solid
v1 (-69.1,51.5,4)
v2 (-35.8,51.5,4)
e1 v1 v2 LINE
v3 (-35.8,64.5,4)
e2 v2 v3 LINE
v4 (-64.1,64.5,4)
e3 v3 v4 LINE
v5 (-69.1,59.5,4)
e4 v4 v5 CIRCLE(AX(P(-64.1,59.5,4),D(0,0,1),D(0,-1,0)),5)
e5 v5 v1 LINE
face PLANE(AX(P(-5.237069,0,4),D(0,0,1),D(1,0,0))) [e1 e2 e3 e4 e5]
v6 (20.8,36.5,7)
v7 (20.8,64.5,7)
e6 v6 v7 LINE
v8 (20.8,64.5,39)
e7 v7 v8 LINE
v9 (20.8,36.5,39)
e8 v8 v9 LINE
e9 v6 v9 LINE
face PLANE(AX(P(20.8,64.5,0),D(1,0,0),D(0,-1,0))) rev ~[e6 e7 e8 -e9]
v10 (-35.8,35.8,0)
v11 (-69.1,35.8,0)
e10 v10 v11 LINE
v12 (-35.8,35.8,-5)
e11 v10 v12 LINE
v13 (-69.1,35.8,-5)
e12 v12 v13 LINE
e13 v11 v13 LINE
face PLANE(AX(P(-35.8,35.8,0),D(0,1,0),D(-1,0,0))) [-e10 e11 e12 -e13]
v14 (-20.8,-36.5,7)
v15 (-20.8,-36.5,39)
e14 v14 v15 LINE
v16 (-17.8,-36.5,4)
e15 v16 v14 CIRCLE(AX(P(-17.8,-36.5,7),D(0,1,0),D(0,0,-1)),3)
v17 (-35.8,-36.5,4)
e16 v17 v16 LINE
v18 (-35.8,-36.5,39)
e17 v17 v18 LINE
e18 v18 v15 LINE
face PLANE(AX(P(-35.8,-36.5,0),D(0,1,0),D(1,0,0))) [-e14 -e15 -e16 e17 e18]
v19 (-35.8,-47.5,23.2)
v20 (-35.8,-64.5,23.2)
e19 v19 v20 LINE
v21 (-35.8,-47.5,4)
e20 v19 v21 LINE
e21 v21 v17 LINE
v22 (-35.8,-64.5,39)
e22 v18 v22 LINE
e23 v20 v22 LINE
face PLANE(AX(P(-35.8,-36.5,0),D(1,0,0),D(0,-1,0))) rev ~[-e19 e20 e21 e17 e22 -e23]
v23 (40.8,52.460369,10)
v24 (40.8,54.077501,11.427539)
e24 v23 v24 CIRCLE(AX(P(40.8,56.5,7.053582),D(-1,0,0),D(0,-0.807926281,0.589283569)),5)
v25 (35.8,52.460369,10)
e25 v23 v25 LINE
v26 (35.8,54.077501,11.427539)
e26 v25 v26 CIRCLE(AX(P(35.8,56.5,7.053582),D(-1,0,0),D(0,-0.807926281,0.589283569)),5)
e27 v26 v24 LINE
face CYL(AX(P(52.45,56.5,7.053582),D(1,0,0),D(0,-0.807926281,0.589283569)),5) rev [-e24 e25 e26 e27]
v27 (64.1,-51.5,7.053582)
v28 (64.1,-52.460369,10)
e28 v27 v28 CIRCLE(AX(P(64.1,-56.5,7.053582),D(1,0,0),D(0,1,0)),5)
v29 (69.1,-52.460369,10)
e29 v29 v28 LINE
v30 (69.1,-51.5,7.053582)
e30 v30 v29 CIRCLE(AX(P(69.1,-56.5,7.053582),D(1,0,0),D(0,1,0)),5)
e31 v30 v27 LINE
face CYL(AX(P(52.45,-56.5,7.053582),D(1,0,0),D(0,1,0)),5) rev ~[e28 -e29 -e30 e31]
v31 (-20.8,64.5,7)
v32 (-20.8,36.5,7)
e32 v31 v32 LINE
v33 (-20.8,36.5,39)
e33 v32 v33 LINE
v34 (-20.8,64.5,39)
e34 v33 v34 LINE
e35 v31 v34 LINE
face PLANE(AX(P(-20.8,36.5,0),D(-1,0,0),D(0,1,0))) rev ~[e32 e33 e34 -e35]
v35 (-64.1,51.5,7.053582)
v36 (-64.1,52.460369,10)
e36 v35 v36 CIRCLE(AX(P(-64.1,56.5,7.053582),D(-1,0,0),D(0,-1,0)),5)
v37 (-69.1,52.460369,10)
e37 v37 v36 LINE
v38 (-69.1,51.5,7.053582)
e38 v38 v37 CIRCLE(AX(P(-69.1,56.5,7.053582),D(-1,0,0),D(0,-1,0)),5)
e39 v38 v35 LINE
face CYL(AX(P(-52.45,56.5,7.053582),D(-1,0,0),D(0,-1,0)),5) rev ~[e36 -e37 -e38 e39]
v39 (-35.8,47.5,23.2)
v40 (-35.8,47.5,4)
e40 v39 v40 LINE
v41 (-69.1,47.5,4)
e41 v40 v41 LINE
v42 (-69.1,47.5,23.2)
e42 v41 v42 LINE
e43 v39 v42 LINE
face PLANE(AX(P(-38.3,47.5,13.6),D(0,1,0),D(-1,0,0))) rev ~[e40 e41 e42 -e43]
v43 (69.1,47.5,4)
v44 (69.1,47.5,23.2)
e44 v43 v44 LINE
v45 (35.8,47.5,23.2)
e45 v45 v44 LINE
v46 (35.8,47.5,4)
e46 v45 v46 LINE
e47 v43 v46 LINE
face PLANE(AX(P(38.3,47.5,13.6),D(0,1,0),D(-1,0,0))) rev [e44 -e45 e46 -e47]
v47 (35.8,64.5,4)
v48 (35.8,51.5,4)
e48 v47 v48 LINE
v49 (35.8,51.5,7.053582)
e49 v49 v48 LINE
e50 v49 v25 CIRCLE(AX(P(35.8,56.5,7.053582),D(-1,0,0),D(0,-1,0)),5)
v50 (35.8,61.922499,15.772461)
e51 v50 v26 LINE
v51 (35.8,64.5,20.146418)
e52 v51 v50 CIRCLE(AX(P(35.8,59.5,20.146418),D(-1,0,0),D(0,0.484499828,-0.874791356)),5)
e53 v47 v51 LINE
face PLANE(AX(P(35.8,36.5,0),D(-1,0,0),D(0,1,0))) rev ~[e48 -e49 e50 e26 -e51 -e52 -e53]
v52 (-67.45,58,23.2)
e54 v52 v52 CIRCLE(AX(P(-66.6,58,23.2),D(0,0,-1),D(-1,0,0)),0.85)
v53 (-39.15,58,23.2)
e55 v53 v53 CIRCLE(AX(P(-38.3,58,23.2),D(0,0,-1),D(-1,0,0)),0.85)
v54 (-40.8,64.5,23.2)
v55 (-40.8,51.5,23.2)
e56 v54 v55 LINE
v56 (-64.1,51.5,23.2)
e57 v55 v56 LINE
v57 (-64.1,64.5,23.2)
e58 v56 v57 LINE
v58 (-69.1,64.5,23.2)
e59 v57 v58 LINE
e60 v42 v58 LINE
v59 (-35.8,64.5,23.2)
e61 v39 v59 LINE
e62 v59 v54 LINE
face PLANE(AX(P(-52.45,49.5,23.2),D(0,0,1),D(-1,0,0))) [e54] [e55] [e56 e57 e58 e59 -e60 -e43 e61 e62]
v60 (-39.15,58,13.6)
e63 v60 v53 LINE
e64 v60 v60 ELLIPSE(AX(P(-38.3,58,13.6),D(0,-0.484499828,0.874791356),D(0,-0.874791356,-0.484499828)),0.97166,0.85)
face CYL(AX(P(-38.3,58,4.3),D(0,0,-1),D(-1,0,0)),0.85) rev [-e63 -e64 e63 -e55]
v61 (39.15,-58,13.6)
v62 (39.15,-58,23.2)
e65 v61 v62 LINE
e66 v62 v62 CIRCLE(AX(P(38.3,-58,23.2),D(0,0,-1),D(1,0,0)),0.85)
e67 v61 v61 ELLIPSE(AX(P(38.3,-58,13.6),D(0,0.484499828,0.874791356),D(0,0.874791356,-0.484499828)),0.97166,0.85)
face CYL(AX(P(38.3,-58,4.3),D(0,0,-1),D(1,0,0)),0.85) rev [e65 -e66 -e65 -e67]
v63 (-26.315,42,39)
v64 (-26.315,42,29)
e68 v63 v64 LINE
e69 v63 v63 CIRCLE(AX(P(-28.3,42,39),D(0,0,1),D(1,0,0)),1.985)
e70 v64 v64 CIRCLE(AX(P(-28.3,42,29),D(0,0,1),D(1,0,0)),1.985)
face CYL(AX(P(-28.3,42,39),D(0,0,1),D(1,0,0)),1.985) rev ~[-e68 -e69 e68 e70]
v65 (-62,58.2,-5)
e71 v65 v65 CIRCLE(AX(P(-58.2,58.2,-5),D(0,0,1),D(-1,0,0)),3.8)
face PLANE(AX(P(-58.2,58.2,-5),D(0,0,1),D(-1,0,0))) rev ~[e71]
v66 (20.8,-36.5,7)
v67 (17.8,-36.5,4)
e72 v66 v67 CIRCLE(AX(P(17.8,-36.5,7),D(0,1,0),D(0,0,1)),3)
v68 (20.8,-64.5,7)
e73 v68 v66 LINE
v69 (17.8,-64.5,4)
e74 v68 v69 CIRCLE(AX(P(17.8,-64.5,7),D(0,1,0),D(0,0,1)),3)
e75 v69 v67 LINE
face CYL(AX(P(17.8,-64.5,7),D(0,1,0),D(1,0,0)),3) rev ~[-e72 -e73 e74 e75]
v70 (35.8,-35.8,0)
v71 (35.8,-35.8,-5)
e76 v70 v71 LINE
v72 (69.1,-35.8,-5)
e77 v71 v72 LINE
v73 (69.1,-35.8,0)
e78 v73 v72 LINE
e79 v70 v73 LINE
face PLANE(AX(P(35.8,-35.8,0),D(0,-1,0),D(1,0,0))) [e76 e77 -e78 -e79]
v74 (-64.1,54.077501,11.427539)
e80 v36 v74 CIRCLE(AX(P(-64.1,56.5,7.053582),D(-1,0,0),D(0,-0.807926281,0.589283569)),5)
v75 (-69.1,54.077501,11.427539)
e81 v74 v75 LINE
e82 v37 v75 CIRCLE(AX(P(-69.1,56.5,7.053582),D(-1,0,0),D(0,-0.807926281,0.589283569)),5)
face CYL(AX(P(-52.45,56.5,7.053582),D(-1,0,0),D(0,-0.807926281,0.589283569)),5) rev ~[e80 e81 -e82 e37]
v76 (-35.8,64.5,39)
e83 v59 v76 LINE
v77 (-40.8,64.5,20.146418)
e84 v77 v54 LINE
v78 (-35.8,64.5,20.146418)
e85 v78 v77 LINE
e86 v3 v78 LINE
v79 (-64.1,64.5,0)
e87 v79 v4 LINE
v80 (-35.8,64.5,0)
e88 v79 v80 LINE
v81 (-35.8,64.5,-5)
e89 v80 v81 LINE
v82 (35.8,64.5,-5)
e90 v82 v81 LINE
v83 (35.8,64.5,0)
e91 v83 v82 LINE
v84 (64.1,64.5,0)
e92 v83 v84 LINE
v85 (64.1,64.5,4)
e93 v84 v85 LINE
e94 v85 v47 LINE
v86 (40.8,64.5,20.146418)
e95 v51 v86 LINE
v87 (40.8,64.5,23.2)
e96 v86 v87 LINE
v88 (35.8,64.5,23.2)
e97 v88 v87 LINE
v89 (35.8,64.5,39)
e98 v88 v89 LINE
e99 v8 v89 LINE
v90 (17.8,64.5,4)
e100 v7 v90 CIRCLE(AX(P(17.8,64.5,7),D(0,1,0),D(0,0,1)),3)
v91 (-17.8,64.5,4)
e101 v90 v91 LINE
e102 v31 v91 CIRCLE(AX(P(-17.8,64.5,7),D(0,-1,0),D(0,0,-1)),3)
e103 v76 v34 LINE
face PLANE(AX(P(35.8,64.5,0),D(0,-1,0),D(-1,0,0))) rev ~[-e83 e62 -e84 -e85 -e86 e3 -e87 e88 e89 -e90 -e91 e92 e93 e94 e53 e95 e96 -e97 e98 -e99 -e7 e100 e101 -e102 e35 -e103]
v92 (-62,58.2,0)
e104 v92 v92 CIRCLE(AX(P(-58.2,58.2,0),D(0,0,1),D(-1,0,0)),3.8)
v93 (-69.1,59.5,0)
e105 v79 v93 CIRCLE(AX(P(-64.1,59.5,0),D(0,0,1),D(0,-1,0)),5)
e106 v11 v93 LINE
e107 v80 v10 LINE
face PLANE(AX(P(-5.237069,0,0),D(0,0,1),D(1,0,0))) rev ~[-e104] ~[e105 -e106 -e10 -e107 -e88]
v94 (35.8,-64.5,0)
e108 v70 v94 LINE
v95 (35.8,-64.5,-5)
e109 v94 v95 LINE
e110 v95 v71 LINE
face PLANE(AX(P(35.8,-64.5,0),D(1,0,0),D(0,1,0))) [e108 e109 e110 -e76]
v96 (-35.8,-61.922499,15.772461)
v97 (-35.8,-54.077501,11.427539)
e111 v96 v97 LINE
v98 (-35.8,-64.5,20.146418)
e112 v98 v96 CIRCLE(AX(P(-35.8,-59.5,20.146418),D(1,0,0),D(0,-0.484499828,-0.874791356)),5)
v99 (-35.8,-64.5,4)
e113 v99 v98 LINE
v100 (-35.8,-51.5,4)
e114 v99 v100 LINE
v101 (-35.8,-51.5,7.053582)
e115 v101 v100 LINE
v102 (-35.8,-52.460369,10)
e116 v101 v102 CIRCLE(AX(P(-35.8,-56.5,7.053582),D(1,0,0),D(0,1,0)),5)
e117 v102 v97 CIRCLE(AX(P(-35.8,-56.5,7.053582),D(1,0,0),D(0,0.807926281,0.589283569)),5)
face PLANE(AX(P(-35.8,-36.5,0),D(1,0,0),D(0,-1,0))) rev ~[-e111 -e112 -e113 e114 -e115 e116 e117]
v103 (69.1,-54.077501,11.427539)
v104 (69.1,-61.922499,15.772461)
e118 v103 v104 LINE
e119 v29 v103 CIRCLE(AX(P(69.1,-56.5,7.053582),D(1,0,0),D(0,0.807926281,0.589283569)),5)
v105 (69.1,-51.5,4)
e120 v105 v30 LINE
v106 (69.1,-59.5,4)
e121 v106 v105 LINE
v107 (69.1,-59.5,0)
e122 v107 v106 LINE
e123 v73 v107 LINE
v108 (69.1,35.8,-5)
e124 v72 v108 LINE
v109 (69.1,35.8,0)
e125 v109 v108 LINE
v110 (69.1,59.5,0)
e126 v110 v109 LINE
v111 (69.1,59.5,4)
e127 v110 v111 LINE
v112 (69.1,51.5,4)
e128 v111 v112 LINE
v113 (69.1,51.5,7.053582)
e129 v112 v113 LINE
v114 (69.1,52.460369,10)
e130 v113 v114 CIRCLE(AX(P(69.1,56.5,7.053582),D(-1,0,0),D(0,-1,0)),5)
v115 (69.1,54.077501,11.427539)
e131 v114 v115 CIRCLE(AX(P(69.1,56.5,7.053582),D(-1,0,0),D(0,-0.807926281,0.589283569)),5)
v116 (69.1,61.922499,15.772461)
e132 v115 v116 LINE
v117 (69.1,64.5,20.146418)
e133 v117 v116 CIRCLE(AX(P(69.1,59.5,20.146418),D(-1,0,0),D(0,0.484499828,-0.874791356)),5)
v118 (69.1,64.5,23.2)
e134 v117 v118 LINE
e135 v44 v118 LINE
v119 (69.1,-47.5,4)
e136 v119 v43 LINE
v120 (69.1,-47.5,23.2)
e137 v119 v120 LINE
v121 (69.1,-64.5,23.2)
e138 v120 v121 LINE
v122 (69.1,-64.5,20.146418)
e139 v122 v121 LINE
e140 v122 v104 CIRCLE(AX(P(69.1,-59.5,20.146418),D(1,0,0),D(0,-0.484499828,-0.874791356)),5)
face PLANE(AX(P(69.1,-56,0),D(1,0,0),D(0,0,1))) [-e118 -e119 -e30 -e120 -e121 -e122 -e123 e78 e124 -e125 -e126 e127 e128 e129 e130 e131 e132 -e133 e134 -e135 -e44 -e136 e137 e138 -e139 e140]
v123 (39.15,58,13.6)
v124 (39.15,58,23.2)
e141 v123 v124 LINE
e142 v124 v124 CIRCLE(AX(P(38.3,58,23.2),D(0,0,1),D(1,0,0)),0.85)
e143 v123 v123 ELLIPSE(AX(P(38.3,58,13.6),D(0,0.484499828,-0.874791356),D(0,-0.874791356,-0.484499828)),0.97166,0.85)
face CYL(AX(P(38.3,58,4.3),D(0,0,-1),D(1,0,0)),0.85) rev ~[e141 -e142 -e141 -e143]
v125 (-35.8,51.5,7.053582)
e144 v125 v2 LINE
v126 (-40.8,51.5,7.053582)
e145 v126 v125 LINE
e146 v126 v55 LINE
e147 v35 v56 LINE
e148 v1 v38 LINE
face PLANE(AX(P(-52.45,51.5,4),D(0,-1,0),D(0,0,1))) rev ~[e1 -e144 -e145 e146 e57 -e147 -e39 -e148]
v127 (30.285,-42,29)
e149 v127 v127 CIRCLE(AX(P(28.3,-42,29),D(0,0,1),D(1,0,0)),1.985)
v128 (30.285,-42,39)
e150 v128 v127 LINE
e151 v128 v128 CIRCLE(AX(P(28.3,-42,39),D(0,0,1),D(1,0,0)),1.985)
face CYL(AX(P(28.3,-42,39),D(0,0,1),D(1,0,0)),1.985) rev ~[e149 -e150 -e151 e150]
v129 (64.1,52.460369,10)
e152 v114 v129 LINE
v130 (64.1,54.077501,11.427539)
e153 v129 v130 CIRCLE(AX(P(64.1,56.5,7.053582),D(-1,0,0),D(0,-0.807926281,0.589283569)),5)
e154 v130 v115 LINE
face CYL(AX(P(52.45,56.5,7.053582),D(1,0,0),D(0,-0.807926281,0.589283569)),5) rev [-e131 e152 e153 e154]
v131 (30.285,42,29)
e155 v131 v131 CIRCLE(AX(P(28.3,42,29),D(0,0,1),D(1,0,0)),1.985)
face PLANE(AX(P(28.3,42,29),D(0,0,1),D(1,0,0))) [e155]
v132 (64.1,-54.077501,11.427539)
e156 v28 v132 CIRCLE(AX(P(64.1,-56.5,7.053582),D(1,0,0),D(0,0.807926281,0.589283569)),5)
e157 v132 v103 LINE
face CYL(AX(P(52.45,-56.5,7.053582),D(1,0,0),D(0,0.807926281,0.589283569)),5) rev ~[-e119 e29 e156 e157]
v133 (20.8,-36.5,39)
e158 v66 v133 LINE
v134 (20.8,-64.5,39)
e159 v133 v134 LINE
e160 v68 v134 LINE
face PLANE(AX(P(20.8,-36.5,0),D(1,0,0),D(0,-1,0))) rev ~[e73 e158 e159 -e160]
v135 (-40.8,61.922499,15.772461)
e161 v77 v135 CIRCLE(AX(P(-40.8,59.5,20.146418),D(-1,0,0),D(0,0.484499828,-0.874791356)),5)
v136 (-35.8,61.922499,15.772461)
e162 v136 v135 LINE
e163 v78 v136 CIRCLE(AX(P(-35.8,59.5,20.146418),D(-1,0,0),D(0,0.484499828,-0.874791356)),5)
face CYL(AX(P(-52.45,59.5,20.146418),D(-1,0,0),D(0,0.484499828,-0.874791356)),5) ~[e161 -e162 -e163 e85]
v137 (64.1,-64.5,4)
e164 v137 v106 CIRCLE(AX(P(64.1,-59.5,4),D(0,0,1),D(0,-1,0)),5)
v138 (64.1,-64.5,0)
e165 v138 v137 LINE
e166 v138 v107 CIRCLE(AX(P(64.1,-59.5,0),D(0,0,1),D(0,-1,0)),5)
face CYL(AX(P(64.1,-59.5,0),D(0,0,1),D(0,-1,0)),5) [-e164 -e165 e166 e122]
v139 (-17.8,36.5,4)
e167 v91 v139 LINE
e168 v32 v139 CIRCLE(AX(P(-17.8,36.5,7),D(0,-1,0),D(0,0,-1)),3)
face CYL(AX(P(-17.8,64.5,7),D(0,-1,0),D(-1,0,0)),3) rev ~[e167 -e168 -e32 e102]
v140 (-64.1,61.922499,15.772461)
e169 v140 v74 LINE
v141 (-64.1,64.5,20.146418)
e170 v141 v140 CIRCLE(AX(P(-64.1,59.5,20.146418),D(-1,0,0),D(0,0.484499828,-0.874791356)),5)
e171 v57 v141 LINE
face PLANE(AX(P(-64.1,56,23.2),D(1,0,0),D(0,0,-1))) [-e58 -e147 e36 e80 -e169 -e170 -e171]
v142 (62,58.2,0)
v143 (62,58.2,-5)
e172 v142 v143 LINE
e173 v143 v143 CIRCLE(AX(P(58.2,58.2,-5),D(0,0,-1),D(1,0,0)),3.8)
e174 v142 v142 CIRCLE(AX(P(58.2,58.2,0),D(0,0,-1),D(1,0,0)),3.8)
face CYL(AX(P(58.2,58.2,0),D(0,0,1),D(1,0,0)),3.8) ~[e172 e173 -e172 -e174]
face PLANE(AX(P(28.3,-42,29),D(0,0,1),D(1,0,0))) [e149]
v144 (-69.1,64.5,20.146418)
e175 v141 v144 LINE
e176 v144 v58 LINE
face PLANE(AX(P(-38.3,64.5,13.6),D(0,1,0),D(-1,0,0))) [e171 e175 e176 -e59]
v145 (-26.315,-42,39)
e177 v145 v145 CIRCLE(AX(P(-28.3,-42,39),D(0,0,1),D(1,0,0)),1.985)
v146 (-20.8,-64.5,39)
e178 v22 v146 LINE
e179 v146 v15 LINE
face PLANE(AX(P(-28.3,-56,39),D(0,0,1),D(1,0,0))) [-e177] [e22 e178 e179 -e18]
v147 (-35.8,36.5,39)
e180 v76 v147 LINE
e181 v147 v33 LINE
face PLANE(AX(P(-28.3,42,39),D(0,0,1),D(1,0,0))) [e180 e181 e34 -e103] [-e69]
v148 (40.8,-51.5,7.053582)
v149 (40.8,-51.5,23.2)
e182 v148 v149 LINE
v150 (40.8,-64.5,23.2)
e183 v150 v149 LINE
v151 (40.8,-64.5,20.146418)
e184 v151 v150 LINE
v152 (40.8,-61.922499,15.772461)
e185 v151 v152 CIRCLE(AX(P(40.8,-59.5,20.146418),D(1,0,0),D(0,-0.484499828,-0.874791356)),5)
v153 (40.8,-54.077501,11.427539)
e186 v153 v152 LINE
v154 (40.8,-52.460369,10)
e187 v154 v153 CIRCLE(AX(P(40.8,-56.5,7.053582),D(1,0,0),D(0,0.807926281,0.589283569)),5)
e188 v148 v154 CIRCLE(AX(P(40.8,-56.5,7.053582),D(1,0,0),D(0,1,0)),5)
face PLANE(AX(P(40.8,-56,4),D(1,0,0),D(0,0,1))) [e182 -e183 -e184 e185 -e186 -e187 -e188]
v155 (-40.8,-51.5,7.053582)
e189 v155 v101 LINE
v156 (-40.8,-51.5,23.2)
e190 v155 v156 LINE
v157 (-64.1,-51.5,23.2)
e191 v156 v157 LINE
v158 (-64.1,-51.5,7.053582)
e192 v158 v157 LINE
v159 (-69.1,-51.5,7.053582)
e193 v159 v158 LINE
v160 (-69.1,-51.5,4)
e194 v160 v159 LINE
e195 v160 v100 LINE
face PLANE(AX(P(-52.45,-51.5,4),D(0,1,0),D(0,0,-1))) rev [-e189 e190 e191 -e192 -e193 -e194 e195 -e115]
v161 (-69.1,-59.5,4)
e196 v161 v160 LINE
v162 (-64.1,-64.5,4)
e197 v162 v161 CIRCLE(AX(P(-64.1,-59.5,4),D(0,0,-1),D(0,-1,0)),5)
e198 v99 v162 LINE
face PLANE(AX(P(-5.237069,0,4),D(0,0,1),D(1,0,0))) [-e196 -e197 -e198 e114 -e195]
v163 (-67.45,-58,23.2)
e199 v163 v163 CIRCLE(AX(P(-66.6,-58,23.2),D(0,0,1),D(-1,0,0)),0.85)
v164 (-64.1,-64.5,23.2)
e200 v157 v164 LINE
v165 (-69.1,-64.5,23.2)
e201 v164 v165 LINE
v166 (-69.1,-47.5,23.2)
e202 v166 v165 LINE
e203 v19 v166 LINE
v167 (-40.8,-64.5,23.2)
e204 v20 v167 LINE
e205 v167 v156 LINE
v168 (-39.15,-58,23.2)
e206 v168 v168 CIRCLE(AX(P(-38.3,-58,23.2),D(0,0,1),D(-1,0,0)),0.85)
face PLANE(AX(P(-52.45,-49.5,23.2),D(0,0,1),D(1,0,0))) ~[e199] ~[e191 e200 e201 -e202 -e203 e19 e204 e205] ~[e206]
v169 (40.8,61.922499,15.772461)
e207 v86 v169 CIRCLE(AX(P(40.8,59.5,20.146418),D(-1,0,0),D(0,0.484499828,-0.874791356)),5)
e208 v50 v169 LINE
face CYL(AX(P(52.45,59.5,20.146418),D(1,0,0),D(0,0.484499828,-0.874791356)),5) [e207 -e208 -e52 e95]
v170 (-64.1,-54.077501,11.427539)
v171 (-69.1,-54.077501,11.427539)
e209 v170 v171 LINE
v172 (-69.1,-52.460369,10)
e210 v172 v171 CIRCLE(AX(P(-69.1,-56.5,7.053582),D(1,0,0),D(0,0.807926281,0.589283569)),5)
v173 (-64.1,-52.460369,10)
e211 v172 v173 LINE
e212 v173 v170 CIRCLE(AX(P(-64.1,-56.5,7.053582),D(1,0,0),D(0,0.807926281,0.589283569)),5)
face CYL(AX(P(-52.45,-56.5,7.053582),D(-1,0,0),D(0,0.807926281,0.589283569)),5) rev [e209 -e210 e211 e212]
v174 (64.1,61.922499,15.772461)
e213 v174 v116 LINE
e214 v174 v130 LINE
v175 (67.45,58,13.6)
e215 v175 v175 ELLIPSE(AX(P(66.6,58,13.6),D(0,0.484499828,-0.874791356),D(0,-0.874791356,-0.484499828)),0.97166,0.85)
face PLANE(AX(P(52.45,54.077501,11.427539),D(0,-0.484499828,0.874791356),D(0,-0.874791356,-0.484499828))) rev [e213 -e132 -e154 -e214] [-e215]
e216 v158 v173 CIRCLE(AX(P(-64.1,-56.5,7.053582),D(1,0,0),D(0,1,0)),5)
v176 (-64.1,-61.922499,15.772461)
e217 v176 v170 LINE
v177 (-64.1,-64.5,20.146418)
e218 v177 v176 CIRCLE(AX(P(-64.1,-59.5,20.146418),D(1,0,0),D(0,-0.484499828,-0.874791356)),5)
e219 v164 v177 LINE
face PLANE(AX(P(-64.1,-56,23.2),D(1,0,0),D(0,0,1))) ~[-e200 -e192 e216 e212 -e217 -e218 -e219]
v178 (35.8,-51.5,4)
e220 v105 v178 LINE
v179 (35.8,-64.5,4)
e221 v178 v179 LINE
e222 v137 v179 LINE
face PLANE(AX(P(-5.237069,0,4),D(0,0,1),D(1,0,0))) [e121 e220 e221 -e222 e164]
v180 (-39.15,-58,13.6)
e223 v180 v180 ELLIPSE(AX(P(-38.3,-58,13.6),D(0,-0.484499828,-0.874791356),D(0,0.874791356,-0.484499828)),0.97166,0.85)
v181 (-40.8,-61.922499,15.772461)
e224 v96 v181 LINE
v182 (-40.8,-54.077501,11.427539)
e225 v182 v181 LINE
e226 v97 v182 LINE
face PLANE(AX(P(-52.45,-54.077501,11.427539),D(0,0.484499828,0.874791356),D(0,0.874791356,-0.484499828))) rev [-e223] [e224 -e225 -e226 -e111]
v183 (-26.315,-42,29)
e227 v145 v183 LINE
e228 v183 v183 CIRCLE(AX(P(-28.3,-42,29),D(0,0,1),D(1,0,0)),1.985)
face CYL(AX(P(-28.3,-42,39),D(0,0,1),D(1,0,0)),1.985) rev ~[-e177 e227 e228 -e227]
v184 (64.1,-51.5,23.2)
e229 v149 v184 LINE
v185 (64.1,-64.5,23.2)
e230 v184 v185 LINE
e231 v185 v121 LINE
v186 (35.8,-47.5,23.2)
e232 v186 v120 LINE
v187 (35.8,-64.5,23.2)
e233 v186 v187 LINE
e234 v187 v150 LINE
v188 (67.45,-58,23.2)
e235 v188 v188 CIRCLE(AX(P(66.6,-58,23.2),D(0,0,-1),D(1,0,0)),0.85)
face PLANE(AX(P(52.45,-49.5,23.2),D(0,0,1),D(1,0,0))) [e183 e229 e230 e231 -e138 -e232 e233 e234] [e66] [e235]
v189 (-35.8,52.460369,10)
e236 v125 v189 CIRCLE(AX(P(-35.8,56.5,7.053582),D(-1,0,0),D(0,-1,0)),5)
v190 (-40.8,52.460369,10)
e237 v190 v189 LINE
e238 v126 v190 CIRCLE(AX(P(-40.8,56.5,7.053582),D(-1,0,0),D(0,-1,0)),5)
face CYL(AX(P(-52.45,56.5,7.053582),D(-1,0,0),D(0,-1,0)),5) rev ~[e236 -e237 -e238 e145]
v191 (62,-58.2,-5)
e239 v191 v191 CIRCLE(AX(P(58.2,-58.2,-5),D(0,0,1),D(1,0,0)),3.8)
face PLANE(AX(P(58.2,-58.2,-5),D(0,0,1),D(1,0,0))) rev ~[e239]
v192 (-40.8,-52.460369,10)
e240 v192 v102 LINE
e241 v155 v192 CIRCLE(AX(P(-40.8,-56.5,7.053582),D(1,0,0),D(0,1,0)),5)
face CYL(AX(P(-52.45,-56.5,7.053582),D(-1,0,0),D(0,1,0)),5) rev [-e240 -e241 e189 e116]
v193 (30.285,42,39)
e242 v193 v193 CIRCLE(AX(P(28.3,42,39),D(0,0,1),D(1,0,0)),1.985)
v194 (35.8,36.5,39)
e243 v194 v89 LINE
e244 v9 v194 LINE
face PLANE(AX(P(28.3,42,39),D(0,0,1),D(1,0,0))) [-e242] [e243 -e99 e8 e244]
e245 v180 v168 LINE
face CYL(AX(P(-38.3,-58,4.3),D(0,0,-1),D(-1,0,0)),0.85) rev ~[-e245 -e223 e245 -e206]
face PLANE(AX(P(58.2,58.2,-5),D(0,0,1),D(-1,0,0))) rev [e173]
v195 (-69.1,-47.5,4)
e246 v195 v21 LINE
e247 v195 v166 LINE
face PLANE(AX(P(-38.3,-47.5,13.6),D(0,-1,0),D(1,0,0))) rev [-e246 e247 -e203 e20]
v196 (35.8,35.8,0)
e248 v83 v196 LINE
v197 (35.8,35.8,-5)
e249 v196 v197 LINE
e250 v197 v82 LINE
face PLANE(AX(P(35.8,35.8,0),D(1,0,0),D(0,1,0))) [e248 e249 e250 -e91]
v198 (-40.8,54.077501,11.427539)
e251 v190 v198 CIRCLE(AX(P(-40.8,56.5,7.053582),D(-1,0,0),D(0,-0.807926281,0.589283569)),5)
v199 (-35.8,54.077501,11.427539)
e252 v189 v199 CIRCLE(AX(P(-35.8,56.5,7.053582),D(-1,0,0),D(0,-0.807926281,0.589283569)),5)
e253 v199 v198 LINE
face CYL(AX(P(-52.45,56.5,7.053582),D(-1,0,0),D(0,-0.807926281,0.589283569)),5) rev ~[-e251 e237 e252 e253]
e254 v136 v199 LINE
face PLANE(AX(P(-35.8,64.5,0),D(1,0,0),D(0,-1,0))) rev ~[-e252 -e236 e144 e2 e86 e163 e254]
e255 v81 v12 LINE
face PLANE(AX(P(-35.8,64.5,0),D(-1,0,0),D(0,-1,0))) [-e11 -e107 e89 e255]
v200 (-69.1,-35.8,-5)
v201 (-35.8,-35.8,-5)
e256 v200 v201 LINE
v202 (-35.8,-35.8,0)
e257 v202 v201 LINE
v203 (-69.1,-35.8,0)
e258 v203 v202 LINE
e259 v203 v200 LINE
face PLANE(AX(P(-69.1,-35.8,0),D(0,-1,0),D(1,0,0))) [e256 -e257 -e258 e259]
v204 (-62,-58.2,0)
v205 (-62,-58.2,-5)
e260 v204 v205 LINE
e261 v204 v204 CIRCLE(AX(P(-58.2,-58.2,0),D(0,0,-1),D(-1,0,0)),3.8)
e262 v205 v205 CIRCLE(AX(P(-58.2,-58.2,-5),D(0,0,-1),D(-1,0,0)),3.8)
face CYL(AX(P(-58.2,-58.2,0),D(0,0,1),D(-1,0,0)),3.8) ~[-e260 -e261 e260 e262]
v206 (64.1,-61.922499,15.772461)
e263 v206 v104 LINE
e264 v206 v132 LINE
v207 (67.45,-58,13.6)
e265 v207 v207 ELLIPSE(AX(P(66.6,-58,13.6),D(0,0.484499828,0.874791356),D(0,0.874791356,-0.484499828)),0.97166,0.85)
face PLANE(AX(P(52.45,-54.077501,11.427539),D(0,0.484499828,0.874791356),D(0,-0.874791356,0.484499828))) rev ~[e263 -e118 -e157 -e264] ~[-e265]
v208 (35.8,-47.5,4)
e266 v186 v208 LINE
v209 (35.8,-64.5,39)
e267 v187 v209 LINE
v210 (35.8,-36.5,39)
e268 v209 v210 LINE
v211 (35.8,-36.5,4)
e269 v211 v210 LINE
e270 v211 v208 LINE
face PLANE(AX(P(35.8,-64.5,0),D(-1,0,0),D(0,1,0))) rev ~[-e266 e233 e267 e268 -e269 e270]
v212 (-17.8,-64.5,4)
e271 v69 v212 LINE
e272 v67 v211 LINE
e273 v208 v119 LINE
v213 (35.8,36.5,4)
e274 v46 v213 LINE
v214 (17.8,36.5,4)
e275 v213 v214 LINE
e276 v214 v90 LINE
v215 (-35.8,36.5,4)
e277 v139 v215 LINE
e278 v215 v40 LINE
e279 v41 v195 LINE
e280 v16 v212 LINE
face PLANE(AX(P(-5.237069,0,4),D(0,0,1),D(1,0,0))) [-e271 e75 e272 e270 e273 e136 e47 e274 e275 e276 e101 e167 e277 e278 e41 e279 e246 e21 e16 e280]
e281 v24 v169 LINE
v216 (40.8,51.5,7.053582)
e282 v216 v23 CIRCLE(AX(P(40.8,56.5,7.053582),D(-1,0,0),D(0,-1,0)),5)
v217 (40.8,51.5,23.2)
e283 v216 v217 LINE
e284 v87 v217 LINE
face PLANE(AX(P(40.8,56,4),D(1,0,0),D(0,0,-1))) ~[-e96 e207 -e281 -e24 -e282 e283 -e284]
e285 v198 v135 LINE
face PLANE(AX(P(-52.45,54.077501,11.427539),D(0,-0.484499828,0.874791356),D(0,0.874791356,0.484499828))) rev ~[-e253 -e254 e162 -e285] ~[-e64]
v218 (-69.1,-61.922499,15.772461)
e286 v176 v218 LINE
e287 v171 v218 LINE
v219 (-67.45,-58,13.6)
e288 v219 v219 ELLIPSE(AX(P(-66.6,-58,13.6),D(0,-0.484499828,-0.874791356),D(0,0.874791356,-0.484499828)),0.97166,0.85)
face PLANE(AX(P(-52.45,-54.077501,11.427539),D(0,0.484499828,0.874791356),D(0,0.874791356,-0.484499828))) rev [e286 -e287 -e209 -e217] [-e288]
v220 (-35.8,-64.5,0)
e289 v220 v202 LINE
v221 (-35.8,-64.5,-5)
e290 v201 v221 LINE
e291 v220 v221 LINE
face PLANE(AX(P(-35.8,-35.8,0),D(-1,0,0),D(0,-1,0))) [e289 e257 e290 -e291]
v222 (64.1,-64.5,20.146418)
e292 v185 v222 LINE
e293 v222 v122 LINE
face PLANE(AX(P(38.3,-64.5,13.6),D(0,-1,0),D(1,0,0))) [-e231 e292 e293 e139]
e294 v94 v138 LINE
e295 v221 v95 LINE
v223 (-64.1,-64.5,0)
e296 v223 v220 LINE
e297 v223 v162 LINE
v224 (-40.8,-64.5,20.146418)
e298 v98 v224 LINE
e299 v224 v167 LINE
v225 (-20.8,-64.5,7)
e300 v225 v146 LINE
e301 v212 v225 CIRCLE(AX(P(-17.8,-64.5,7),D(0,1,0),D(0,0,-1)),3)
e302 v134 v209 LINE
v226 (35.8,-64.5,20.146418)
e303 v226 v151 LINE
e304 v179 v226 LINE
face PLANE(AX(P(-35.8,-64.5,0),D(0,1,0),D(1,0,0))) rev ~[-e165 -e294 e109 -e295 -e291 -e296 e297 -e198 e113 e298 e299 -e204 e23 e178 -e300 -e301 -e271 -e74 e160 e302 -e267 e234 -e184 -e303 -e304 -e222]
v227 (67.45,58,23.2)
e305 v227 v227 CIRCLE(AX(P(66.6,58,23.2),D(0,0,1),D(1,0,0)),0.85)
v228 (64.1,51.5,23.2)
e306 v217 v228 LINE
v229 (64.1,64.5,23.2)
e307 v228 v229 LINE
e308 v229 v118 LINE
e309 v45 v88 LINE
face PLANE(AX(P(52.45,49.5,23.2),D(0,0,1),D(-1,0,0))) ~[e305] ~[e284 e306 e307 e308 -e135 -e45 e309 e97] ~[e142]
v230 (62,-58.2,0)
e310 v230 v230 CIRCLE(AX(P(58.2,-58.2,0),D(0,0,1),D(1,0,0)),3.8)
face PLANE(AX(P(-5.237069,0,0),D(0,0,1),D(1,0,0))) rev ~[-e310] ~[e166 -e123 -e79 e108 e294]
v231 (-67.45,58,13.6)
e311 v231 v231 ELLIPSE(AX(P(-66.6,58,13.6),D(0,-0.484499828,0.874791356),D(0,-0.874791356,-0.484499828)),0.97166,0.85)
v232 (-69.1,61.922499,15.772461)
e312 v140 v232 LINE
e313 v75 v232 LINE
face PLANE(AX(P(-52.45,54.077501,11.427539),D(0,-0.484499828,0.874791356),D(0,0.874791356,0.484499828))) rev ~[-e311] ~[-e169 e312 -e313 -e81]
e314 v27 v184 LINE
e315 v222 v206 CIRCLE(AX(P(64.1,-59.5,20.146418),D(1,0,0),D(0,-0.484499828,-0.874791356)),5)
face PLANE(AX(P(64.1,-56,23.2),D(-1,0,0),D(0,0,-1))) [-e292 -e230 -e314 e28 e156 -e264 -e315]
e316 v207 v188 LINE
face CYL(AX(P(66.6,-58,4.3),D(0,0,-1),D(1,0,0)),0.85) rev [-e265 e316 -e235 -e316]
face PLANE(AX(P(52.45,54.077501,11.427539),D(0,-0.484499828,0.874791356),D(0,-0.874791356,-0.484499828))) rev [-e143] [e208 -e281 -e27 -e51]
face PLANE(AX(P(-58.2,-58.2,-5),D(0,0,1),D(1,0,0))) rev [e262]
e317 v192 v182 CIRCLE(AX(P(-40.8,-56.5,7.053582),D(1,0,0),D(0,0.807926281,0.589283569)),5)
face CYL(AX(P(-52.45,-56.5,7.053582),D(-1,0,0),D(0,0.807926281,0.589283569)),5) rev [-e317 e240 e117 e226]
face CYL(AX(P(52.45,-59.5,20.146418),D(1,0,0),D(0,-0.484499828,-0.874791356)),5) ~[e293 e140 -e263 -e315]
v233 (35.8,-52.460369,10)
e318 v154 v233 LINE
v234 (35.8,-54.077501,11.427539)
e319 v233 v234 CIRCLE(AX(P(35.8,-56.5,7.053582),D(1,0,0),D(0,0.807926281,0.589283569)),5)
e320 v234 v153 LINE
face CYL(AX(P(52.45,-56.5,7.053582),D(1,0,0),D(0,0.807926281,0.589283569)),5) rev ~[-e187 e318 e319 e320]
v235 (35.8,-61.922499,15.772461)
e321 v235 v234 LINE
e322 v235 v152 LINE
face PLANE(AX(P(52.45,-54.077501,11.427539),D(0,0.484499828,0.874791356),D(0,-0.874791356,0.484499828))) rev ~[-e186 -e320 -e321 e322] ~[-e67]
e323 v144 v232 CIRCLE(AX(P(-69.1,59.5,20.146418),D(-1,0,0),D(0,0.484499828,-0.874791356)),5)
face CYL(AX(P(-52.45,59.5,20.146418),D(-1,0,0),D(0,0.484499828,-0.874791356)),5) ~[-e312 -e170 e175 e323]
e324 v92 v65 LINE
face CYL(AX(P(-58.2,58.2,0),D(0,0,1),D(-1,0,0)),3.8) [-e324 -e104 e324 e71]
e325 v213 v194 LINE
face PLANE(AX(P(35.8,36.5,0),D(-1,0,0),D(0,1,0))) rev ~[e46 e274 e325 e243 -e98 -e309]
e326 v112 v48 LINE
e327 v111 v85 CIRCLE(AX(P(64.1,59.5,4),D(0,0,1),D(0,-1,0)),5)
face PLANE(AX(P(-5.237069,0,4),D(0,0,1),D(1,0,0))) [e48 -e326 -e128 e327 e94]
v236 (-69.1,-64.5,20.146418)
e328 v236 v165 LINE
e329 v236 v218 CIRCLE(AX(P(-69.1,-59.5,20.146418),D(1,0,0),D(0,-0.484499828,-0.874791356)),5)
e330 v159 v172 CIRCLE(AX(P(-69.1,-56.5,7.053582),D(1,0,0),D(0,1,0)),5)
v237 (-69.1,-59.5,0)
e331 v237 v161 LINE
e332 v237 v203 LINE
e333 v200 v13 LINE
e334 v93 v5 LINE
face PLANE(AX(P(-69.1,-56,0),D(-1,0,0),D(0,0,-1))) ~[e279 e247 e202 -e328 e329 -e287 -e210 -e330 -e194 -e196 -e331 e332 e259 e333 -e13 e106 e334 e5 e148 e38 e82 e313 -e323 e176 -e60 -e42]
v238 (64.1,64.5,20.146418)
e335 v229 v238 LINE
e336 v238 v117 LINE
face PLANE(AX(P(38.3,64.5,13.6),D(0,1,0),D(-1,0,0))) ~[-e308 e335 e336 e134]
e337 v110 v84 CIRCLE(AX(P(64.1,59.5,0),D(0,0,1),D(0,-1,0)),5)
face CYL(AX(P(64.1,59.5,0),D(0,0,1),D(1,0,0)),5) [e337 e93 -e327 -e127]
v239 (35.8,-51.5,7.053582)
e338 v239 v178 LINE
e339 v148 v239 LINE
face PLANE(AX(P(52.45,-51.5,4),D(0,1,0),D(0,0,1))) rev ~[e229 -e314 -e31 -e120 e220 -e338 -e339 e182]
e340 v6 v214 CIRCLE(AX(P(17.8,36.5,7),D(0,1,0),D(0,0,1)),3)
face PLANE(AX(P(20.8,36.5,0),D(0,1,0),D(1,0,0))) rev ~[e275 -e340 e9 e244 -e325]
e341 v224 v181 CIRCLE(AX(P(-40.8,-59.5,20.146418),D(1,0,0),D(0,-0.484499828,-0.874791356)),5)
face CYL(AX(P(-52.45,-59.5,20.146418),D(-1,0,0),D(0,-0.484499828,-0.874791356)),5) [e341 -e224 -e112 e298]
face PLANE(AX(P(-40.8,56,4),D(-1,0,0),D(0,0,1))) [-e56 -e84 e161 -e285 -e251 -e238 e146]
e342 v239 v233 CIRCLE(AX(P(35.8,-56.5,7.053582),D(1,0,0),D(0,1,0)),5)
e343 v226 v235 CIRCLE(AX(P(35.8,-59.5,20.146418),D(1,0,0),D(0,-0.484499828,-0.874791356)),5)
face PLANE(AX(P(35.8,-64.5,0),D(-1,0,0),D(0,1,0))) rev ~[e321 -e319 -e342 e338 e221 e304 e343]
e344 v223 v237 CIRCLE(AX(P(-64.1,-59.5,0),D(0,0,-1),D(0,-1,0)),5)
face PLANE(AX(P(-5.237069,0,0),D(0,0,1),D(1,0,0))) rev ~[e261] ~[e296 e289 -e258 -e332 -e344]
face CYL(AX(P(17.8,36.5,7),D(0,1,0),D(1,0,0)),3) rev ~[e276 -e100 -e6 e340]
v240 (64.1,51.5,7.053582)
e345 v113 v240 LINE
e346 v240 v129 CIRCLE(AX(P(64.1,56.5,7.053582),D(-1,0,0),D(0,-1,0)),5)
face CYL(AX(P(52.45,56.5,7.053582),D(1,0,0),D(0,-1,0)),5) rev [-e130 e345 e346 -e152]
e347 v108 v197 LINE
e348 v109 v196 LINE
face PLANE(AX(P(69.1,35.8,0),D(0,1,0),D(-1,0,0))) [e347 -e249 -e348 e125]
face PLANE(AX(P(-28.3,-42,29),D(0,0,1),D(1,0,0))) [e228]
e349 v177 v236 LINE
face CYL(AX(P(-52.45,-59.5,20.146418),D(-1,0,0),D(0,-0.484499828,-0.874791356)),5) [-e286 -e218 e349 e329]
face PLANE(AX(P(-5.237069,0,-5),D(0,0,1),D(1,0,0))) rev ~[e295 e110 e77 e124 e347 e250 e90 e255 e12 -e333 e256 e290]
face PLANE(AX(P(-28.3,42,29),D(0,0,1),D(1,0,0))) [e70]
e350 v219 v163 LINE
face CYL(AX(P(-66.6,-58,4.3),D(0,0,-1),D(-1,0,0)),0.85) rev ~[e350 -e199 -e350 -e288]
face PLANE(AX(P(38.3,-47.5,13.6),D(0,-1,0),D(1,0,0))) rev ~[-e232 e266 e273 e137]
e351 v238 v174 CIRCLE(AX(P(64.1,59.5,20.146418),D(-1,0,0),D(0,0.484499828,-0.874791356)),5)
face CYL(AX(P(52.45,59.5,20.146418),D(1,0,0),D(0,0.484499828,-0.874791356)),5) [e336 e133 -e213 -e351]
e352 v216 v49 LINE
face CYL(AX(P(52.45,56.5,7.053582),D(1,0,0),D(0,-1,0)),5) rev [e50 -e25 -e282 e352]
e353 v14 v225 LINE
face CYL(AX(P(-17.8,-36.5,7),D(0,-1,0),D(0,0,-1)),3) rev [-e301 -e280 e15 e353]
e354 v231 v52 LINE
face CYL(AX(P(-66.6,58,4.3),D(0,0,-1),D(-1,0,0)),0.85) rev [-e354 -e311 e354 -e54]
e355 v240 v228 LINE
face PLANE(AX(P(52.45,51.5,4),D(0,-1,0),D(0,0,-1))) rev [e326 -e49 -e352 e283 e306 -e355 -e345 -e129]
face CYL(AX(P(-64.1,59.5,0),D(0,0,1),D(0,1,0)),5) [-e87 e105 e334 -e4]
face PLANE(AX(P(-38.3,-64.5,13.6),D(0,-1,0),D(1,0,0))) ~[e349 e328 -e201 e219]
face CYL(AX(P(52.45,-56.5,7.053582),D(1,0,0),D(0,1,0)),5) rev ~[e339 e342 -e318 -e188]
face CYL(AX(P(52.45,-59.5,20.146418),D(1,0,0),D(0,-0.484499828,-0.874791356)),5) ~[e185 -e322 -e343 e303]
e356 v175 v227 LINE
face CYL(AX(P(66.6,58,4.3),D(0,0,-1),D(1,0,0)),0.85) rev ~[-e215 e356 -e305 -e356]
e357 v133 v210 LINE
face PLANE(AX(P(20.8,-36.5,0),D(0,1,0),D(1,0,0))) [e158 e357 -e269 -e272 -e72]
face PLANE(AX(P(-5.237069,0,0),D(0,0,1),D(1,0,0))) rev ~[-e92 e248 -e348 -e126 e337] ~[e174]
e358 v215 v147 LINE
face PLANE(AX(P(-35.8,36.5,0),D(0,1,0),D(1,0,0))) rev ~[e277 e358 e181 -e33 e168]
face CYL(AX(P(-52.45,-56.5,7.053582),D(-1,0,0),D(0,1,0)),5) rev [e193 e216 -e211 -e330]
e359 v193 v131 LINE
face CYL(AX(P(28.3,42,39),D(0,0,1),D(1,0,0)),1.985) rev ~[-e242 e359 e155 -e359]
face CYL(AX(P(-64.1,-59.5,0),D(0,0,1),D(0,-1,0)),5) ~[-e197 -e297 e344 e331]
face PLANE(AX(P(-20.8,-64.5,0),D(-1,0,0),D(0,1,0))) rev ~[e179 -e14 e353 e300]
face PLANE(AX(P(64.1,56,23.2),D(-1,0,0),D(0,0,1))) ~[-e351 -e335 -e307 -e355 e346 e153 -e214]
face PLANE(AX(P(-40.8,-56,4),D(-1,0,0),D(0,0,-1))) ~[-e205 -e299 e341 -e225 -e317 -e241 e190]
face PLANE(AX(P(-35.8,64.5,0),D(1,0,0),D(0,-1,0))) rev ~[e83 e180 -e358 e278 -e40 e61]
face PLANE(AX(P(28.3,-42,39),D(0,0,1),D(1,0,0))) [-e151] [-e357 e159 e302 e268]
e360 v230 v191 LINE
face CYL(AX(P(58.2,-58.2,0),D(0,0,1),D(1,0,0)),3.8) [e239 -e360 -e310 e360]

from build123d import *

# Parameters (mm, degrees)
F1_W      = 5
F1_H      = 7.2
F1_H_2    = 6
F1_H_3    = 4
F1_W_2    = 23.3
F3_DEPTH  = 8.5
F4_DEPTH  = 23.2
F5_DEPTH  = 18.1
F6_START  = 4.3
F0_R      = 0.85
F6_DEPTH  = 20.7
F0_R_2    = 3.8
F7_DEPTH  = 5
F11_W     = 15
F11_H     = 11
F11_H_2   = 17
F11_W_2   = 4.6
F11_H_3   = 11.7
F11_W_3   = 28.7
F11_H_4   = 71.6
F12_DEPTH = 4
F13_DEPTH = 5
F14_DEPTH = 39
F16_R     = 3
F17_R     = 5
F15_R     = 1.985
F18_DEPTH = 10


with BuildPart() as f3:
    # F1 (on Front) → F3 (new body, symmetric)
    with BuildSketch(Plane.XZ):
        with Locations((-14.15, 13.6)):
            Rectangle(F1_W, F1_H)
        with Locations((-14.15, 20.2)):
            Rectangle(F1_W, F1_H_2)
        with Locations((-14.15, 7)):
            Rectangle(F1_W, F1_H_2)
        with Locations((-14.15, 2)):
            Rectangle(F1_W, F1_H_3)
        with Locations((0, 2)):
            Rectangle(F1_W_2, F1_H_3)
        with Locations((14.15, 2)):
            Rectangle(F1_W, F1_H_3)
        with Locations((14.15, 7)):
            Rectangle(F1_W, F1_H_2)
        with Locations((14.15, 13.6)):
            Rectangle(F1_W, F1_H)
        with Locations((14.15, 20.2)):
            Rectangle(F1_W, F1_H_2)
    extrude(amount=F3_DEPTH, both=True)

    # F0 (on Top) → F4 (join)
    with BuildSketch(Plane.XY):
        Polygon((11.65, 4.5), (11.65, 8.5), (0, 8.5), (-11.65, 8.5), (-11.65, 4.5), align=None)
    extrude(amount=F4_DEPTH)

    # F2 (on Right) → F5 (cut, symmetric)
    with BuildSketch(Plane.YZ):
        with BuildLine():
            Line((-8.5, 17.2), (-8.5, 10))
            Line((-8.5, 10), (3.5396314061, 10))
            ThreePointArc((3.5396314061, 10), (2.8089650426, 10.8020152096), (1.9224991399, 11.4275389379))
            Line((1.9224991399, 11.4275389379), (-5.9224991399, 15.7724610621))
            ThreePointArc((-5.9224991399, 15.7724610621), (-6.8089650426, 16.3979847904), (-7.5396314061, 17.2))
            Line((-7.5396314061, 17.2), (-8.5, 17.2))
        make_face()
        with BuildLine():
            Line((-8.5, 20.1464178425), (-8.5, 17.2))
            Line((-8.5, 17.2), (-7.5396314061, 17.2))
            ThreePointArc((-7.5396314061, 17.2), (-8.2538488107, 18.5969271247), (-8.5, 20.1464178425))
        make_face()
        with BuildLine():
            Line((-8.5, 10), (-8.5, 4))
            Line((-8.5, 4), (4.5, 4))
            Line((4.5, 4), (4.5, 7.0535821575))
            ThreePointArc((4.5, 7.0535821575), (4.2538488107, 8.6030728753), (3.5396314061, 10))
            Line((3.5396314061, 10), (-8.5, 10))
        make_face()
    extrude(amount=F5_DEPTH, both=True, mode=Mode.SUBTRACT)

    # F0 (on Top) → F6 (cut)
    with BuildSketch(Plane.XY.offset(F6_START)):
        with Locations((14.15, -2)):
            Circle(F0_R)
        with Locations((-14.15, -2)):
            Circle(F0_R)
    extrude(amount=F6_DEPTH, mode=Mode.SUBTRACT)

    # F0 (on Top) → F7 (join)
    with BuildSketch(Plane.XY):
        with Locations((5.75, -2.2)):
            Circle(F0_R_2)
    extrude(amount=-F7_DEPTH)


with BuildPart() as f3_1:
    # F8: moved
    add(f3.part.moved(Location((52.45, -56, 0))))


with BuildPart() as f9_1:
    # F9: instance of F3
    add(f3_1.part.mirror(Plane.XZ))


with BuildPart() as f10_1:
    # F10: instance of F9_1
    add(f9_1.part.mirror(Plane.YZ))


with BuildPart() as f10_2:
    # F10: instance of F3
    add(f3_1.part.mirror(Plane.YZ))


with BuildPart() as f3_2:
    add(f3_1.part)

    add(f9_1.part)  # F12 merges F9_1

    add(f10_1.part)  # F12 merges F10_1

    add(f10_2.part)  # F12 merges F10_2
    # F11 (on Top) → F12 (join)
    with BuildSketch(Plane.XY):
        Polygon((20.8, 47.5), (20.8, 64.5), (-20.8, 64.5), (-20.8, 47.5), (-20.8, 36.5), (-35.8, 36.5), (-35.8, 35.8), (-35.8, -35.8), (-35.8, -36.5), (-20.8, -36.5), (-20.8, -47.5), (-20.8, -64.5), (20.8, -64.5), (20.8, -47.5), (20.8, -36.5), (20.8, 36.5), align=None)
        with Locations((-28.3, -42)):
            Rectangle(F11_W, F11_H)
        with Locations((-28.3, -56)):
            Rectangle(F11_W, F11_H_2)
        Polygon((-35.8, -35.8), (-64.5, -35.8), (-64.5, -47.5), (-35.8, -47.5), (-35.8, -36.5), align=None)
        with Locations((-66.8, -41.65)):
            Rectangle(F11_W_2, F11_H_3)
        with Locations((-50.15, 0)):
            Rectangle(F11_W_3, F11_H_4)
        with Locations((-66.8, 0)):
            Rectangle(F11_W_2, F11_H_4)
        with Locations((28.3, -56)):
            Rectangle(F11_W, F11_H_2)
        with Locations((28.3, -42)):
            Rectangle(F11_W, F11_H)
        Polygon((64.5, -47.5), (64.5, -35.8), (35.8, -35.8), (35.8, -36.5), (35.8, -47.5), align=None)
        Polygon((64.5, -35.8), (64.5, 35.8), (35.8, 35.8), (35.8, 36.5), (20.8, 36.5), (20.8, -36.5), (35.8, -36.5), (35.8, -35.8), align=None)
        with Locations((66.8, 0)):
            Rectangle(F11_W_2, F11_H_4)
        with Locations((66.8, -41.65)):
            Rectangle(F11_W_2, F11_H_3)
        with Locations((28.3, 56)):
            Rectangle(F11_W, F11_H_2)
        with Locations((28.3, 42)):
            Rectangle(F11_W, F11_H)
        Polygon((64.5, 35.8), (64.5, 47.5), (35.8, 47.5), (35.8, 36.5), (35.8, 35.8), align=None)
        with Locations((66.8, 41.65)):
            Rectangle(F11_W_2, F11_H_3)
        with Locations((-28.3, 56)):
            Rectangle(F11_W, F11_H_2)
        with Locations((-28.3, 42)):
            Rectangle(F11_W, F11_H)
        Polygon((-35.8, 36.5), (-35.8, 47.5), (-64.5, 47.5), (-64.5, 35.8), (-35.8, 35.8), align=None)
        with Locations((-66.8, 41.65)):
            Rectangle(F11_W_2, F11_H_3)
    extrude(amount=F12_DEPTH)

    # F11 (on Top) → F13 (join)
    with BuildSketch(Plane.XY):
        Polygon((20.8, 47.5), (20.8, 64.5), (-20.8, 64.5), (-20.8, 47.5), (-20.8, 36.5), (-35.8, 36.5), (-35.8, 35.8), (-35.8, -35.8), (-35.8, -36.5), (-20.8, -36.5), (-20.8, -47.5), (-20.8, -64.5), (20.8, -64.5), (20.8, -47.5), (20.8, -36.5), (20.8, 36.5), align=None)
        with Locations((-50.15, 0)):
            Rectangle(F11_W_3, F11_H_4)
        with Locations((-66.8, 0)):
            Rectangle(F11_W_2, F11_H_4)
        with Locations((-28.3, -42)):
            Rectangle(F11_W, F11_H)
        with Locations((-28.3, -56)):
            Rectangle(F11_W, F11_H_2)
        with Locations((28.3, -56)):
            Rectangle(F11_W, F11_H_2)
        with Locations((28.3, -42)):
            Rectangle(F11_W, F11_H)
        Polygon((64.5, -35.8), (64.5, 35.8), (35.8, 35.8), (35.8, 36.5), (20.8, 36.5), (20.8, -36.5), (35.8, -36.5), (35.8, -35.8), align=None)
        with Locations((66.8, 0)):
            Rectangle(F11_W_2, F11_H_4)
        with Locations((28.3, 42)):
            Rectangle(F11_W, F11_H)
        with Locations((28.3, 56)):
            Rectangle(F11_W, F11_H_2)
        with Locations((-28.3, 56)):
            Rectangle(F11_W, F11_H_2)
        with Locations((-28.3, 42)):
            Rectangle(F11_W, F11_H)
    extrude(amount=-F13_DEPTH)

    # F11 (on Top) → F14 (join)
    with BuildSketch(Plane.XY):
        with Locations((-28.3, -56)):
            Rectangle(F11_W, F11_H_2)
        with Locations((-28.3, -42)):
            Rectangle(F11_W, F11_H)
        with Locations((28.3, -42)):
            Rectangle(F11_W, F11_H)
        with Locations((28.3, -56)):
            Rectangle(F11_W, F11_H_2)
        with Locations((28.3, 42)):
            Rectangle(F11_W, F11_H)
        with Locations((28.3, 56)):
            Rectangle(F11_W, F11_H_2)
        with Locations((-28.3, 42)):
            Rectangle(F11_W, F11_H)
        with Locations((-28.3, 56)):
            Rectangle(F11_W, F11_H_2)
    extrude(amount=F14_DEPTH)

    # F16
    f16_edges = [f3_2.edges().sort_by_distance(p)[0] for p in [
        (20.8, -50.5, 4),
        (20.8, 50.5, 4),
        (-20.8, 50.5, 4),
        (-20.8, -50.5, 4),
    ]]
    fillet(f16_edges, radius=F16_R)

    # F17
    f17_edges = [f3_2.edges().sort_by_distance(p)[0] for p in [
        (69.1, -64.5, 2),
        (69.1, 64.5, 2),
        (-69.1, 64.5, 2),
        (-69.1, -64.5, 2),
    ]]
    fillet(f17_edges, radius=F17_R)

    # F15 (on face) → F18 (cut)
    with BuildSketch(Plane.XY.offset(39)):
        with Locations((-28.3, -42)):
            Circle(F15_R)
        with Locations((28.3, -42)):
            Circle(F15_R)
        with Locations((28.3, 42)):
            Circle(F15_R)
        with Locations((-28.3, 42)):
            Circle(F15_R)
    extrude(amount=-F18_DEPTH, mode=Mode.SUBTRACT)


solid = f3_2.part
